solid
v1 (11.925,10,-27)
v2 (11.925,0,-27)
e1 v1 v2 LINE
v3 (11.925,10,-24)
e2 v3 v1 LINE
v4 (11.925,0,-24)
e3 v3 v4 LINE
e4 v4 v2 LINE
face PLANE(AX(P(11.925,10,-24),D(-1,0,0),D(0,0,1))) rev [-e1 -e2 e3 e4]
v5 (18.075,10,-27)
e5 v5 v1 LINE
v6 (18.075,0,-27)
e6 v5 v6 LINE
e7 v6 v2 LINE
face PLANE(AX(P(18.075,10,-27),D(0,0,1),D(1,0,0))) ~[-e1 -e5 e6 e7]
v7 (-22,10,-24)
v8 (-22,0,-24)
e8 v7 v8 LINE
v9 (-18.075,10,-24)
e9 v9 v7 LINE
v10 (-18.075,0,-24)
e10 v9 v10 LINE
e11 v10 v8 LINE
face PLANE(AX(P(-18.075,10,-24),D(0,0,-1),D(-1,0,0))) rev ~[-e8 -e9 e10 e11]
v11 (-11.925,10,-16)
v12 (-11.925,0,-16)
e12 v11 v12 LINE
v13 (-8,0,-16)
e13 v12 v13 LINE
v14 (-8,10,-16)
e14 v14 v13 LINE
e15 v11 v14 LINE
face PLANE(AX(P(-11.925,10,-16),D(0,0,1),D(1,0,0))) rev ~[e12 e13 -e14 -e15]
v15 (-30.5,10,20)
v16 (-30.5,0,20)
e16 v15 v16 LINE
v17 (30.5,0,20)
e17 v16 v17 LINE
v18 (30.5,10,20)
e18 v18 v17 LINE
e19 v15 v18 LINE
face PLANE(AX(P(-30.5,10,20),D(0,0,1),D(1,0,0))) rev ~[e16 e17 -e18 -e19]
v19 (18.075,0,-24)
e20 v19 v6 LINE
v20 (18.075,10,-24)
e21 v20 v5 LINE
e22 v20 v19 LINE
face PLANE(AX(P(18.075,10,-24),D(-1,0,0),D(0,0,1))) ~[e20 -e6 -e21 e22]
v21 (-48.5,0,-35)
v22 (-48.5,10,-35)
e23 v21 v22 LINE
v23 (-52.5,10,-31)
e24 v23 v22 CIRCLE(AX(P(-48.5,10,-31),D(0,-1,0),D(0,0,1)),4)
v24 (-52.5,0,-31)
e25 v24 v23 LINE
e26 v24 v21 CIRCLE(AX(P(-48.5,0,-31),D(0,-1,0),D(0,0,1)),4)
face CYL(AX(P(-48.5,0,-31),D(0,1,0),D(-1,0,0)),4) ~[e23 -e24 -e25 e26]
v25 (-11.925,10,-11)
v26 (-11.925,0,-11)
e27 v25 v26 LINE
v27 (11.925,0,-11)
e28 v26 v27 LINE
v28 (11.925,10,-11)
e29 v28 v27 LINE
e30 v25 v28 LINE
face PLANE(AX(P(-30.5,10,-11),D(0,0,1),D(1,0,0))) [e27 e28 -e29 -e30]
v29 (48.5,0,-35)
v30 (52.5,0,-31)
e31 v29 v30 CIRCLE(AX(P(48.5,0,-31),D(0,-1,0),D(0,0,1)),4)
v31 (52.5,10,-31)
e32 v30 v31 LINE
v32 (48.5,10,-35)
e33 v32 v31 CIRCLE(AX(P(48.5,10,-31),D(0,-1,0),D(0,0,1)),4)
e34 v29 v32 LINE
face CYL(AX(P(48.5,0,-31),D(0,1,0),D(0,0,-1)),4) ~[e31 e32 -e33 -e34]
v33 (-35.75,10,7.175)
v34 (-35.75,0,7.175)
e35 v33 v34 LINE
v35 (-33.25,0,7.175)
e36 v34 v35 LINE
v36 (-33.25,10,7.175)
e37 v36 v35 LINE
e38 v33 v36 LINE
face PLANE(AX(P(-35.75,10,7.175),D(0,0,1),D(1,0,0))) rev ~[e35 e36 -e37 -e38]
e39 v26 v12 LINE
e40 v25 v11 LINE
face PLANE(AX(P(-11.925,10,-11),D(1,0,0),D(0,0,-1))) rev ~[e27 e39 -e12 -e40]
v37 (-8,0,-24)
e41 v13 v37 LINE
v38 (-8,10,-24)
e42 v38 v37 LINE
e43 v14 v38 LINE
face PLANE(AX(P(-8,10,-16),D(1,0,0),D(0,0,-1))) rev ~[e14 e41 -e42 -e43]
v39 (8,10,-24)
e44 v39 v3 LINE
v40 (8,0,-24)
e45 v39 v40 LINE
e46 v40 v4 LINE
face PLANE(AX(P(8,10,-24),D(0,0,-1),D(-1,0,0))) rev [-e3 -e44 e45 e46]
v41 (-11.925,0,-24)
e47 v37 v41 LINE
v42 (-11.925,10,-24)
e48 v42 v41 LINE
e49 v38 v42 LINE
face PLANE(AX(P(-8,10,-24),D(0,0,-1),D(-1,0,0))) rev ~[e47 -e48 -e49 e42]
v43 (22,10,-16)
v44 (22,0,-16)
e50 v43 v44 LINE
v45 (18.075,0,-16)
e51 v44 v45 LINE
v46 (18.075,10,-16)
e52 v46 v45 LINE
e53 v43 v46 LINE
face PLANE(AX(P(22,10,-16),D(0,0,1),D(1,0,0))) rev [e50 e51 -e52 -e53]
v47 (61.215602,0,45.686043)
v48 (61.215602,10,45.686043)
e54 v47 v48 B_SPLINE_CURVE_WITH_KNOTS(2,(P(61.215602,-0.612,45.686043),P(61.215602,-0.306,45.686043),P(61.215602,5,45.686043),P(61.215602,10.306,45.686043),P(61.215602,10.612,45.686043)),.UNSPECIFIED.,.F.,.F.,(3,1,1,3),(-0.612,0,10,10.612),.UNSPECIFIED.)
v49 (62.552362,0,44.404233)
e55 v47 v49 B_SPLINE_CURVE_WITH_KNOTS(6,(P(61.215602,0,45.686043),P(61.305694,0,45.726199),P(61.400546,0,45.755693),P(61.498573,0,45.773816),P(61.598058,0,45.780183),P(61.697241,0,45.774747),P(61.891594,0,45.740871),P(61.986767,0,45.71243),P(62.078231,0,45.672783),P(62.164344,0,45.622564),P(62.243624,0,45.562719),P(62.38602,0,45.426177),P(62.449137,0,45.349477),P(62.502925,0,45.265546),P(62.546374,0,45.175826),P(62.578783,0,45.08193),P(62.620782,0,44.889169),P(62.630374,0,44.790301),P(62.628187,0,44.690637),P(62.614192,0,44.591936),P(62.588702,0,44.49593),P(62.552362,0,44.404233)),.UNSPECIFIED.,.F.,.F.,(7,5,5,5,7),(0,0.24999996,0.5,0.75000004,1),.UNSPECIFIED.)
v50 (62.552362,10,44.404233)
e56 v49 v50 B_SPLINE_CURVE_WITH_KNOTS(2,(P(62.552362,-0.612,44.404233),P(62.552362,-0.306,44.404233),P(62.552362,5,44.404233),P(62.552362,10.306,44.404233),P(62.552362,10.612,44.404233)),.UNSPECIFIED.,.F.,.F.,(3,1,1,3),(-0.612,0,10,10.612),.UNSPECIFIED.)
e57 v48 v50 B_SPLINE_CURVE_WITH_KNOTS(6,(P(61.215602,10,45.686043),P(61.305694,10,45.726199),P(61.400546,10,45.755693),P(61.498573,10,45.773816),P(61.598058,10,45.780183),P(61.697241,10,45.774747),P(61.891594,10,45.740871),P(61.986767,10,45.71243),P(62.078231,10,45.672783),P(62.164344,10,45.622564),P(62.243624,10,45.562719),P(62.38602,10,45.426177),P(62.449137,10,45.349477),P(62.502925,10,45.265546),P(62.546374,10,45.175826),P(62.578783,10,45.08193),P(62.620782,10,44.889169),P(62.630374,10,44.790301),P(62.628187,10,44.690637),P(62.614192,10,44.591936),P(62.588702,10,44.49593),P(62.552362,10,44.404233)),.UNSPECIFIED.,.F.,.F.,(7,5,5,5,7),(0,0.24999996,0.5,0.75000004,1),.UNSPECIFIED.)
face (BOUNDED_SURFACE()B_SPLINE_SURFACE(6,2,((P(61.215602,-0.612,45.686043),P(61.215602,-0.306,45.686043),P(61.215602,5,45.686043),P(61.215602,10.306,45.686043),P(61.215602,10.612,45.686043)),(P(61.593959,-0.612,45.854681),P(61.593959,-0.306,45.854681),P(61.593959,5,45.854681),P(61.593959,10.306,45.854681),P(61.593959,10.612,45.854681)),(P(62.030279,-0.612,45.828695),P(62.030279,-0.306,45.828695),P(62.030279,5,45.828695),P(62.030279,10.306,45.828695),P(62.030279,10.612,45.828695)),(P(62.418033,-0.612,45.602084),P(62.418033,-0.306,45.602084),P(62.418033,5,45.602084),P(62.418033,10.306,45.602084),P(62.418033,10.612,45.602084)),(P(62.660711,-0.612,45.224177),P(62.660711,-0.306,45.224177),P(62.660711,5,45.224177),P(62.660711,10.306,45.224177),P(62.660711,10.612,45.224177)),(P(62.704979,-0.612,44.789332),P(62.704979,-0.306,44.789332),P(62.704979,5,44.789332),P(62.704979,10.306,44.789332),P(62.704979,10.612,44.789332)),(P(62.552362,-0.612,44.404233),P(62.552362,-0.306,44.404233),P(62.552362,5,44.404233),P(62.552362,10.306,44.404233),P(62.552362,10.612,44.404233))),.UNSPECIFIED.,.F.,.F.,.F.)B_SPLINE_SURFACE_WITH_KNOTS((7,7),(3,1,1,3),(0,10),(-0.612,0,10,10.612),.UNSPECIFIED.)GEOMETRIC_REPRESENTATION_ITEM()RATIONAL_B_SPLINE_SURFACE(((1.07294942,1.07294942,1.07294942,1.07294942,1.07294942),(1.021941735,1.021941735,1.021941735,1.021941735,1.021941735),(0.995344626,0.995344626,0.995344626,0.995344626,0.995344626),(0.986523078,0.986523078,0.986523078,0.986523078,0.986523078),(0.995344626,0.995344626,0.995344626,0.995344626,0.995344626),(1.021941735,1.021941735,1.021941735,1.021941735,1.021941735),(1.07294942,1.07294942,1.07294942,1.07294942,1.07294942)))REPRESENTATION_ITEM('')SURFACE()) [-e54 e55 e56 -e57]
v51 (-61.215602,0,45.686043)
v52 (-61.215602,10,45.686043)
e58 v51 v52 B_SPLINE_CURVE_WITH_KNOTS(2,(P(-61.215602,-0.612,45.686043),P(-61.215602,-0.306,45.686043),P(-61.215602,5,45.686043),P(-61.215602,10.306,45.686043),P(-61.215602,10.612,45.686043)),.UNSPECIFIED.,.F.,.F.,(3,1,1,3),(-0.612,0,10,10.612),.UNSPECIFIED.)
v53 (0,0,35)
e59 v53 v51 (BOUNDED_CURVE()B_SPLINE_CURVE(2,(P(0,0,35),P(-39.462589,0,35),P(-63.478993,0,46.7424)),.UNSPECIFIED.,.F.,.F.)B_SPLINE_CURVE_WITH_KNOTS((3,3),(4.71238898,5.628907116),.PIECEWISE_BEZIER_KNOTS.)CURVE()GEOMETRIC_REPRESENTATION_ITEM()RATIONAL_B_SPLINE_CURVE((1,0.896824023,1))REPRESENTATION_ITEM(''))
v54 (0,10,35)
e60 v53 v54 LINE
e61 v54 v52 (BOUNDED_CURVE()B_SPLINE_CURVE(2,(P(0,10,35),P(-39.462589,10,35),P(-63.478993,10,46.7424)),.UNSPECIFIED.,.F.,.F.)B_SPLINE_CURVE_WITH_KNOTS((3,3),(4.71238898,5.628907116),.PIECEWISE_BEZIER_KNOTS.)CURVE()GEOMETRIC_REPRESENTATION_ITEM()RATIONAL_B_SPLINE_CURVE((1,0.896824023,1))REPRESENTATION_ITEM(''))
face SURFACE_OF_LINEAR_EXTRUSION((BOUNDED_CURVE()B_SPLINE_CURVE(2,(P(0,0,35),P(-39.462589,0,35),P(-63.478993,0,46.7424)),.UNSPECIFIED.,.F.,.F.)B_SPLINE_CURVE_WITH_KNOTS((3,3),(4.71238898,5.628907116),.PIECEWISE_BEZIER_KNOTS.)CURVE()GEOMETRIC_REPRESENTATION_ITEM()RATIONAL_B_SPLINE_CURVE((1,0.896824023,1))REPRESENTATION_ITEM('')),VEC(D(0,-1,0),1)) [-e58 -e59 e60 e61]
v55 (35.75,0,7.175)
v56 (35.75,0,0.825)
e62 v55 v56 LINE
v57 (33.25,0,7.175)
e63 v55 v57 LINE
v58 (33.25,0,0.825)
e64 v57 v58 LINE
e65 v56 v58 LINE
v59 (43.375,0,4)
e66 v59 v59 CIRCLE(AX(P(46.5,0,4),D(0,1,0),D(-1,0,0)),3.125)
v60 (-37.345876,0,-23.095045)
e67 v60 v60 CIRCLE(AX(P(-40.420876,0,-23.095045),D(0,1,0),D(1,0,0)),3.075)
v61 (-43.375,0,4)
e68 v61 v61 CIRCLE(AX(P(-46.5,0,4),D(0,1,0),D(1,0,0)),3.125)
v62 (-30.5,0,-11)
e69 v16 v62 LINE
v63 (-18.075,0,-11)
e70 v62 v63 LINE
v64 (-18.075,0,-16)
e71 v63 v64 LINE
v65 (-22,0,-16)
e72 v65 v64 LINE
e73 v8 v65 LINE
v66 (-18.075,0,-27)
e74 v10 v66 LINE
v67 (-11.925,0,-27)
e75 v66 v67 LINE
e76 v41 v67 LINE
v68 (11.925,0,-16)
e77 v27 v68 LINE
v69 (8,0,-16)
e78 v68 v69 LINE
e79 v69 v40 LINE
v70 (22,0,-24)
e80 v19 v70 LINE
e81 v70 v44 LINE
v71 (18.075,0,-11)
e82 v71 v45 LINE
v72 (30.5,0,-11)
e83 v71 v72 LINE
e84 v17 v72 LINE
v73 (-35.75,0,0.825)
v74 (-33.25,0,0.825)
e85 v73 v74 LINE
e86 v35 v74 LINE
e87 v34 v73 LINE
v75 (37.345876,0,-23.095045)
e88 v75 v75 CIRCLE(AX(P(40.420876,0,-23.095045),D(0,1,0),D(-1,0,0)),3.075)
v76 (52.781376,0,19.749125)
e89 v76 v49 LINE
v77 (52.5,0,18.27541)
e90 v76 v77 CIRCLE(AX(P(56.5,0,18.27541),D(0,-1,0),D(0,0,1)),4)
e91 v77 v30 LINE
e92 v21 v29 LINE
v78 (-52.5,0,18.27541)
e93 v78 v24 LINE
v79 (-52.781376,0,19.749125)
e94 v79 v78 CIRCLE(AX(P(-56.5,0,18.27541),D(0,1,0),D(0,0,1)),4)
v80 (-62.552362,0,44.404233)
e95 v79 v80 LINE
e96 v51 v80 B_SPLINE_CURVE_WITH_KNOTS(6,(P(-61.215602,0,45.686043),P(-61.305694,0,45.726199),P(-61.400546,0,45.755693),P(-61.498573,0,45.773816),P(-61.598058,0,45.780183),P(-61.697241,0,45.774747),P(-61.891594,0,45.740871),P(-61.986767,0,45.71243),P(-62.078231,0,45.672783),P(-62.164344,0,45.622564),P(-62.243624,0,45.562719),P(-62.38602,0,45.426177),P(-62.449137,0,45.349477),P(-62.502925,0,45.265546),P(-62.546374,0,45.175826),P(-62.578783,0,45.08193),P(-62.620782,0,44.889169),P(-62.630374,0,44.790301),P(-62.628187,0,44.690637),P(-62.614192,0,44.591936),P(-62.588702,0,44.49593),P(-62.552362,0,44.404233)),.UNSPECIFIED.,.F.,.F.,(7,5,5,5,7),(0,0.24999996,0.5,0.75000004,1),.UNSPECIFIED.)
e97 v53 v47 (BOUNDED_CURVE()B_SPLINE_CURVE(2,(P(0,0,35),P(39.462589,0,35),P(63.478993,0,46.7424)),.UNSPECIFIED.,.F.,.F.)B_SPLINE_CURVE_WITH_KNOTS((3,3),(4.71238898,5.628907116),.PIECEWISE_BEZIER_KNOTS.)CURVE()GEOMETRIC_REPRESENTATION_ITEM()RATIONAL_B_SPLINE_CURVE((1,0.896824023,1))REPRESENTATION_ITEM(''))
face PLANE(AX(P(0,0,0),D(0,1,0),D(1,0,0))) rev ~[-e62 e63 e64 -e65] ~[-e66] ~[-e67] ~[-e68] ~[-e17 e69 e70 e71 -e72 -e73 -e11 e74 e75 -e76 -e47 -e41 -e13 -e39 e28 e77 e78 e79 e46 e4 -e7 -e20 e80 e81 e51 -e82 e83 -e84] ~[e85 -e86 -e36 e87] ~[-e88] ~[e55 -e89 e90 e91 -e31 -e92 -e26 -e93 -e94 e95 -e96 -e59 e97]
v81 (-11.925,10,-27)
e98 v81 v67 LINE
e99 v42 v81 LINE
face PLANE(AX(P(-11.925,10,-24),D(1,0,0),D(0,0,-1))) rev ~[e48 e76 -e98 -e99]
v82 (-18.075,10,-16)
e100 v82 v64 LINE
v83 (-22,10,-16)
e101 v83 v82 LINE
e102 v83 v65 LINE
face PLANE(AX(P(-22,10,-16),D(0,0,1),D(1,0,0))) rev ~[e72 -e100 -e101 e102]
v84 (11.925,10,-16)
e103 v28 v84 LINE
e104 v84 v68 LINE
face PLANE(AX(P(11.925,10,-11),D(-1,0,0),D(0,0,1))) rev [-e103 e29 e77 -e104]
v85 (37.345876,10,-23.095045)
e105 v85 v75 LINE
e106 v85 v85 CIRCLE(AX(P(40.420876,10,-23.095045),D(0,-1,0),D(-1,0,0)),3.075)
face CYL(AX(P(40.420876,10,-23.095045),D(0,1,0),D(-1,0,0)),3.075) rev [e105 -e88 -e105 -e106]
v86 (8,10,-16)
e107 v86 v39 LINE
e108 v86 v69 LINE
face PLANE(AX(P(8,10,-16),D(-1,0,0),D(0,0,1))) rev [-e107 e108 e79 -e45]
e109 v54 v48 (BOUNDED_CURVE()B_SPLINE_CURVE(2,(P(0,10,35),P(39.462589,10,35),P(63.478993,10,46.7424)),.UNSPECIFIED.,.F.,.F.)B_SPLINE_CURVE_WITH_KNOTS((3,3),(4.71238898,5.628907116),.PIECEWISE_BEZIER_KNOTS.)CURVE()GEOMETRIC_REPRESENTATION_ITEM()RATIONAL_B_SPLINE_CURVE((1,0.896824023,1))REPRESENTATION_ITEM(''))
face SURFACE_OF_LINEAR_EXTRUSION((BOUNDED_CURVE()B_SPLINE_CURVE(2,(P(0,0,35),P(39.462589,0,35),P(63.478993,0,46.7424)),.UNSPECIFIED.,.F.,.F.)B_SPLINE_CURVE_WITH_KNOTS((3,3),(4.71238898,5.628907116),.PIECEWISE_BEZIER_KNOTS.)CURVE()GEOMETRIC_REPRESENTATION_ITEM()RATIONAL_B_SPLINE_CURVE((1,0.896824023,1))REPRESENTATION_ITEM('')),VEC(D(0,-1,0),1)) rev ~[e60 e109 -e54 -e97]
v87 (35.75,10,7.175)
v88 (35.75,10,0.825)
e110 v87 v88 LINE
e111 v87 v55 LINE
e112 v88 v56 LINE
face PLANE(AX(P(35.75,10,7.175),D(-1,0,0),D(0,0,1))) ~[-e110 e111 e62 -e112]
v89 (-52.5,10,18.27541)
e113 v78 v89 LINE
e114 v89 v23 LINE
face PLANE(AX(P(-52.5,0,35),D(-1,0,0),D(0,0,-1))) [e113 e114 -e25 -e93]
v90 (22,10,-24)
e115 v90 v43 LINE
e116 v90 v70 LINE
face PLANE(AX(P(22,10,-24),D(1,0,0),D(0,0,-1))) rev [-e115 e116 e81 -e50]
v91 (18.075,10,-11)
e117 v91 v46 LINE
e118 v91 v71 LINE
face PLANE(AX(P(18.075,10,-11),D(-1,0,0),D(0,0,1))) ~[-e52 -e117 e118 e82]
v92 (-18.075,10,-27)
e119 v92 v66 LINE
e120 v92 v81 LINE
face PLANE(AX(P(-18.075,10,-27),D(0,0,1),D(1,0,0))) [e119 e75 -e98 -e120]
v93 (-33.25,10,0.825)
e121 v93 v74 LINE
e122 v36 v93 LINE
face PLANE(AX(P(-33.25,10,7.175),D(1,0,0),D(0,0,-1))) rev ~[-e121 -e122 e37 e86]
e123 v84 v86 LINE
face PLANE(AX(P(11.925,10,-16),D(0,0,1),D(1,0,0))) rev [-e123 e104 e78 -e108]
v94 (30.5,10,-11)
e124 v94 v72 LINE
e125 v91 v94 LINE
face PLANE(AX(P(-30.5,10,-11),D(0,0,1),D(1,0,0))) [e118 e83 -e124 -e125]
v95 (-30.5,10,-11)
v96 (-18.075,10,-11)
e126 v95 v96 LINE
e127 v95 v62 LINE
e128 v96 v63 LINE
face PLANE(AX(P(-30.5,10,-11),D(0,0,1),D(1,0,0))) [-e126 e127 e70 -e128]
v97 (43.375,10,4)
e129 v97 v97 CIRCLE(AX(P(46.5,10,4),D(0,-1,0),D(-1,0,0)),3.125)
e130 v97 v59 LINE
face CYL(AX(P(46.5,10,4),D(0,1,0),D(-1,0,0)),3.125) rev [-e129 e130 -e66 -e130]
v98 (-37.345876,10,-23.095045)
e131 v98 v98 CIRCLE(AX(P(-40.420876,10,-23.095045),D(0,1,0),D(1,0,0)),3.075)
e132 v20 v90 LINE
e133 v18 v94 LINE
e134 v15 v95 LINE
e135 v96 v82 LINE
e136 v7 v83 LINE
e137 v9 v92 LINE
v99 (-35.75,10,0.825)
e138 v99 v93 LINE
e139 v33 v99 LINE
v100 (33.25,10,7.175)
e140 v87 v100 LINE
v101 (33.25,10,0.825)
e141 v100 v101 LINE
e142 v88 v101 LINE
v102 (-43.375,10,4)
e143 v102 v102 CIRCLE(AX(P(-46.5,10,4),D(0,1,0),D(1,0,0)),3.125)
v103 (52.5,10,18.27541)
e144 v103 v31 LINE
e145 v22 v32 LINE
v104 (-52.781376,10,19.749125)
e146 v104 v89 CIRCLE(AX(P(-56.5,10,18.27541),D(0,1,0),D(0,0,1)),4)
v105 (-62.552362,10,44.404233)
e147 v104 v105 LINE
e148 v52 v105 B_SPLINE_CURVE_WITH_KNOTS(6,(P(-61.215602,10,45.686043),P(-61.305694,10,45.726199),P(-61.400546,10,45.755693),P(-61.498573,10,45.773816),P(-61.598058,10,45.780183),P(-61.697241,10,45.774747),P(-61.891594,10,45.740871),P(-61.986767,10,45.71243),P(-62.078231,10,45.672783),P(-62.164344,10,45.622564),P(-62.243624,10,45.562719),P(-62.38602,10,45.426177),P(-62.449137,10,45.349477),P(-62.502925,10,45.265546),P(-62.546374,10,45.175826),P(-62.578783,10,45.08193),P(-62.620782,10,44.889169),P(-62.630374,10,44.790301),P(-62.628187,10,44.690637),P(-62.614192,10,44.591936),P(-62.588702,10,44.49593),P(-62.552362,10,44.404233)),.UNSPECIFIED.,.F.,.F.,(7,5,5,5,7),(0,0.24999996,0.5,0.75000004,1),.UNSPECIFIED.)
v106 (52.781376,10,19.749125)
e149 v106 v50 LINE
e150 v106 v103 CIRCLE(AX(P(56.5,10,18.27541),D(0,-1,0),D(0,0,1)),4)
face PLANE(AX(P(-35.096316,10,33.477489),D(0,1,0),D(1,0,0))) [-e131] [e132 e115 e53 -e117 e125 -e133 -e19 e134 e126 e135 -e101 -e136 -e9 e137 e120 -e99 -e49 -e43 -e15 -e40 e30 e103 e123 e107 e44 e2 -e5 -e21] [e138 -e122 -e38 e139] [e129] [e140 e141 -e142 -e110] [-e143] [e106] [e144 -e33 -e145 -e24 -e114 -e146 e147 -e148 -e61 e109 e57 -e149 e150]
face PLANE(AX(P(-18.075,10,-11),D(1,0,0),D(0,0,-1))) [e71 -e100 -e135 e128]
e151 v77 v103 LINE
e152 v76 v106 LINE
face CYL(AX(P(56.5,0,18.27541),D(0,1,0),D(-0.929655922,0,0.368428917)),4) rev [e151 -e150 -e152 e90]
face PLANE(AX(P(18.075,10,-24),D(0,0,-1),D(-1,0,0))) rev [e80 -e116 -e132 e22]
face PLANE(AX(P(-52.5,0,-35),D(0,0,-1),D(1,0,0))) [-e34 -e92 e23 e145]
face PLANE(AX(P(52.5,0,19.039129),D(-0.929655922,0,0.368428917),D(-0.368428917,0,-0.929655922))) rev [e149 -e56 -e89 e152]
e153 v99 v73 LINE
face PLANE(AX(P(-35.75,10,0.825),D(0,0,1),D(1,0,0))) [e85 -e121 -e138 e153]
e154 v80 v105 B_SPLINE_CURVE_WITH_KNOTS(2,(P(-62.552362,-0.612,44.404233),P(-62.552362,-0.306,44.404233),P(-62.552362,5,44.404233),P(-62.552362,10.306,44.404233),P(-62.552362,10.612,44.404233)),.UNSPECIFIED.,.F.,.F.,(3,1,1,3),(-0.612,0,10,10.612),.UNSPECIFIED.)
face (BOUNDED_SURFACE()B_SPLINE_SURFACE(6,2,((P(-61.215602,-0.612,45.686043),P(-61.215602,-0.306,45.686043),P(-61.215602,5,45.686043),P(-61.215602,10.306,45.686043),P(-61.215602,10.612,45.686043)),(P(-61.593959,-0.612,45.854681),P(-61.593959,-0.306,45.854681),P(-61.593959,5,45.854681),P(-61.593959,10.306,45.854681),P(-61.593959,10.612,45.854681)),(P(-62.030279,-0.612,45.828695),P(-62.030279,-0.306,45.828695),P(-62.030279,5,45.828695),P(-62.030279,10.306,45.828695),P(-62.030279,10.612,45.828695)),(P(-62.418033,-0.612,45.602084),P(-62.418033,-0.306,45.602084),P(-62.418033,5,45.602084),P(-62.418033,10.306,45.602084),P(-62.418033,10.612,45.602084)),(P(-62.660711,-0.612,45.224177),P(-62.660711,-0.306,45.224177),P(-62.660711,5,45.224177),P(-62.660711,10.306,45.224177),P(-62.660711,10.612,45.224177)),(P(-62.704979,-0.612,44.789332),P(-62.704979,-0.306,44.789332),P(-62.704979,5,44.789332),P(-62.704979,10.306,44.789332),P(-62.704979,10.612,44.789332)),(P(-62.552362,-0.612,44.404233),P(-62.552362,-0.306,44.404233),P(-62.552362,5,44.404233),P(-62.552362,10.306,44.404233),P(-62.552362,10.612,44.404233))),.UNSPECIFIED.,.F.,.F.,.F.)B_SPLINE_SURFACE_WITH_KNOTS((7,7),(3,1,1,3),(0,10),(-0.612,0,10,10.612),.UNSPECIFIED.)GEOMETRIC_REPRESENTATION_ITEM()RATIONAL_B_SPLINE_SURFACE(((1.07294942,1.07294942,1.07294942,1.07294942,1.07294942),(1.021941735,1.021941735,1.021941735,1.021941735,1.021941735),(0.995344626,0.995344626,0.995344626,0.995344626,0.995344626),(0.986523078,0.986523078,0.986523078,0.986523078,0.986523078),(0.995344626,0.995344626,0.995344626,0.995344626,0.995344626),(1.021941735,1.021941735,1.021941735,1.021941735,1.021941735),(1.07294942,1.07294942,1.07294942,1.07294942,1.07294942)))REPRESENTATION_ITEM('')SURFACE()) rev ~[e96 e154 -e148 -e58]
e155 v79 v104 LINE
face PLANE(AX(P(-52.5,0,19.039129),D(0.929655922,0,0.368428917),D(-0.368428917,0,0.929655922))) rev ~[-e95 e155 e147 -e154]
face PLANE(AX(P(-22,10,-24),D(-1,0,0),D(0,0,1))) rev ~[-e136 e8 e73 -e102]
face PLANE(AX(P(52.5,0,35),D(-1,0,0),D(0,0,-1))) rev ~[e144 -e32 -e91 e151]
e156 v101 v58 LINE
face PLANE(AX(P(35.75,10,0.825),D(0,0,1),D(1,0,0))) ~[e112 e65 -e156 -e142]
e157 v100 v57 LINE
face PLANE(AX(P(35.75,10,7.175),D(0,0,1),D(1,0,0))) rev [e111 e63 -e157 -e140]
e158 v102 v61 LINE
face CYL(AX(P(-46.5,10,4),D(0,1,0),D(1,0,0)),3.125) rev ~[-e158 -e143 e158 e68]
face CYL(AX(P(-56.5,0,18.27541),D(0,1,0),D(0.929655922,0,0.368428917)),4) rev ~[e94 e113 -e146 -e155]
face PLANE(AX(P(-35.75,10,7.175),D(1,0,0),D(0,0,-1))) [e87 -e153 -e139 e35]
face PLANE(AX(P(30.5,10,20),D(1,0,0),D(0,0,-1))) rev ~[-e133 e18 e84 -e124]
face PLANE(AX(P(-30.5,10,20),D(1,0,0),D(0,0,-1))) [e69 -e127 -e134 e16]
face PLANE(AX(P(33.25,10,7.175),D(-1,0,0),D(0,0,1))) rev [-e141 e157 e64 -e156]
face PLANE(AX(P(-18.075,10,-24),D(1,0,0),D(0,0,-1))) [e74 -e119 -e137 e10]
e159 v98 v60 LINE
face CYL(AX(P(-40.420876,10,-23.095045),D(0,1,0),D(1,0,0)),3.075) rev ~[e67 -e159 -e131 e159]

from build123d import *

# Parameters (mm, degrees)
SKETCH1_W           = 105
SKETCH1_H           = 70
BOSS_EXTRUDE1_DEPTH = 10
SKETCH2_W           = 61
SKETCH2_H           = 31
CUT_EXTRUDE1_DEPTH  = 11
SKETCH3_W           = 6.15
SKETCH3_H           = 5
SKETCH3_H_2         = 3
CUT_EXTRUDE2_DEPTH  = 10
SKETCH4_R           = 3.125
SKETCH4_W           = 2.5
SKETCH4_H           = 6.35
CUT_EXTRUDE3_DEPTH  = 11
BOSS_EXTRUDE2_DEPTH = 10
SKETCH6_R           = 3.075
CUT_EXTRUDE4_DEPTH  = 11.0000001
FILLET2_R           = 1
FILLET1_R           = 4


with BuildPart() as part:
    # Sketch1 → Boss-Extrude1 (new body)
    with BuildSketch(Plane(origin=(0, 0, 0), x_dir=(1, 0, 0), z_dir=(0, 1, 0))):
        Rectangle(SKETCH1_W, SKETCH1_H)
    extrude(amount=BOSS_EXTRUDE1_DEPTH)

    # Sketch2 → Cut-Extrude1 (cut, through all)
    with BuildSketch(Plane(origin=(0, 10, 0), x_dir=(1, 0, 0), z_dir=(0, 1, 0))):
        with Locations((0, -4.5)):
            Rectangle(SKETCH2_W, SKETCH2_H)
    extrude(amount=-CUT_EXTRUDE1_DEPTH, mode=Mode.SUBTRACT)

    # Sketch3 → Cut-Extrude2 (cut)
    with BuildSketch(Plane(origin=(0, 10, 0), x_dir=(1, 0, 0), z_dir=(0, 1, 0))):
        with Locations((-15, 13.5)):
            Rectangle(SKETCH3_W, SKETCH3_H)
        Polygon((-18.075, 24), (-22, 24), (-22, 16), (-18.075, 16), (-11.925, 16), (-8, 16), (-8, 24), (-11.925, 24), (-11.925, 21), (-18.075, 21), align=None)
        with Locations((-15, 22.5)):
            Rectangle(SKETCH3_W, SKETCH3_H_2)
        with Locations((-15, 25.5)):
            Rectangle(SKETCH3_W, SKETCH3_H_2)
    cut_extrude2 = extrude(amount=-CUT_EXTRUDE2_DEPTH, mode=Mode.SUBTRACT)

    # Sketch4 → Cut-Extrude3 (cut, through all)
    with BuildSketch(Plane(origin=(0, 10, 0), x_dir=(1, 0, 0), z_dir=(0, 1, 0))):
        with Locations((-46.5, -4)):
            Circle(SKETCH4_R)
        with Locations((-34.5, -4)):
            Rectangle(SKETCH4_W, SKETCH4_H)
    cut_extrude3 = extrude(amount=-CUT_EXTRUDE3_DEPTH, mode=Mode.SUBTRACT)

    # Sketch5 → Boss-Extrude2 (add)
    with BuildSketch(Plane(origin=(0, 0, 0), x_dir=(1, 0, 0), z_dir=(0, 1, 0))):
        with BuildLine():
            Line((0, -35), (-52.5, -19.039128985))
            Line((-52.5, -19.039128985), (-63.478993436, -46.742400328))
            add(Edge.make_bspline(
                [(0, -35), (-39.462588608, -35), (-63.478993436, -46.742400328)],
                knots=[4.71238898, 4.71238898, 4.71238898, 5.628907116, 5.628907116, 5.628907116], degree=2, weights=[1, 0.896824023, 1]))
        make_face()
    boss_extrude2 = extrude(amount=BOSS_EXTRUDE2_DEPTH)

    # Sketch6 → Cut-Extrude4 (cut, through all)
    with BuildSketch(Plane(origin=(0, 10, 0), x_dir=(1, 0, 0), z_dir=(0, 1, 0))):
        with Locations((-40.420875644, 23.095045258)):
            Circle(SKETCH6_R)
    cut_extrude4 = extrude(amount=-CUT_EXTRUDE4_DEPTH, mode=Mode.SUBTRACT)

    # Mirror1: Cut-Extrude2, Cut-Extrude3, Boss-Extrude2, Cut-Extrude4 across plane
    add(cut_extrude2.mirror(Plane(origin=(0, 0, 0), x_dir=(0, 0, 1), z_dir=(1, 0, 0))), mode=Mode.SUBTRACT)
    add(cut_extrude3.mirror(Plane(origin=(0, 0, 0), x_dir=(0, 0, 1), z_dir=(1, 0, 0))), mode=Mode.SUBTRACT)
    add(boss_extrude2.mirror(Plane(origin=(0, 0, 0), x_dir=(0, 0, 1), z_dir=(1, 0, 0))))
    add(cut_extrude4.mirror(Plane(origin=(0, 0, 0), x_dir=(0, 0, 1), z_dir=(1, 0, 0))), mode=Mode.SUBTRACT)

    # Fillet2
    fillet2_edges = [part.edges().sort_by_distance(p)[0] for p in [
        (-63.478993436, 5, 46.742400328),
        (63.478993436, 5, 46.742400328),
    ]]
    fillet(fillet2_edges, radius=FILLET2_R)

    # Fillet1
    fillet1_edges = [part.edges().sort_by_distance(p)[0] for p in [
        (52.5, 5, 19.039128985),
        (-52.5, 5, -35),
        (52.5, 5, -35),
        (-52.5, 5, 19.039128985),
    ]]
    fillet(fillet1_edges, radius=FILLET1_R)


solid = part.part
